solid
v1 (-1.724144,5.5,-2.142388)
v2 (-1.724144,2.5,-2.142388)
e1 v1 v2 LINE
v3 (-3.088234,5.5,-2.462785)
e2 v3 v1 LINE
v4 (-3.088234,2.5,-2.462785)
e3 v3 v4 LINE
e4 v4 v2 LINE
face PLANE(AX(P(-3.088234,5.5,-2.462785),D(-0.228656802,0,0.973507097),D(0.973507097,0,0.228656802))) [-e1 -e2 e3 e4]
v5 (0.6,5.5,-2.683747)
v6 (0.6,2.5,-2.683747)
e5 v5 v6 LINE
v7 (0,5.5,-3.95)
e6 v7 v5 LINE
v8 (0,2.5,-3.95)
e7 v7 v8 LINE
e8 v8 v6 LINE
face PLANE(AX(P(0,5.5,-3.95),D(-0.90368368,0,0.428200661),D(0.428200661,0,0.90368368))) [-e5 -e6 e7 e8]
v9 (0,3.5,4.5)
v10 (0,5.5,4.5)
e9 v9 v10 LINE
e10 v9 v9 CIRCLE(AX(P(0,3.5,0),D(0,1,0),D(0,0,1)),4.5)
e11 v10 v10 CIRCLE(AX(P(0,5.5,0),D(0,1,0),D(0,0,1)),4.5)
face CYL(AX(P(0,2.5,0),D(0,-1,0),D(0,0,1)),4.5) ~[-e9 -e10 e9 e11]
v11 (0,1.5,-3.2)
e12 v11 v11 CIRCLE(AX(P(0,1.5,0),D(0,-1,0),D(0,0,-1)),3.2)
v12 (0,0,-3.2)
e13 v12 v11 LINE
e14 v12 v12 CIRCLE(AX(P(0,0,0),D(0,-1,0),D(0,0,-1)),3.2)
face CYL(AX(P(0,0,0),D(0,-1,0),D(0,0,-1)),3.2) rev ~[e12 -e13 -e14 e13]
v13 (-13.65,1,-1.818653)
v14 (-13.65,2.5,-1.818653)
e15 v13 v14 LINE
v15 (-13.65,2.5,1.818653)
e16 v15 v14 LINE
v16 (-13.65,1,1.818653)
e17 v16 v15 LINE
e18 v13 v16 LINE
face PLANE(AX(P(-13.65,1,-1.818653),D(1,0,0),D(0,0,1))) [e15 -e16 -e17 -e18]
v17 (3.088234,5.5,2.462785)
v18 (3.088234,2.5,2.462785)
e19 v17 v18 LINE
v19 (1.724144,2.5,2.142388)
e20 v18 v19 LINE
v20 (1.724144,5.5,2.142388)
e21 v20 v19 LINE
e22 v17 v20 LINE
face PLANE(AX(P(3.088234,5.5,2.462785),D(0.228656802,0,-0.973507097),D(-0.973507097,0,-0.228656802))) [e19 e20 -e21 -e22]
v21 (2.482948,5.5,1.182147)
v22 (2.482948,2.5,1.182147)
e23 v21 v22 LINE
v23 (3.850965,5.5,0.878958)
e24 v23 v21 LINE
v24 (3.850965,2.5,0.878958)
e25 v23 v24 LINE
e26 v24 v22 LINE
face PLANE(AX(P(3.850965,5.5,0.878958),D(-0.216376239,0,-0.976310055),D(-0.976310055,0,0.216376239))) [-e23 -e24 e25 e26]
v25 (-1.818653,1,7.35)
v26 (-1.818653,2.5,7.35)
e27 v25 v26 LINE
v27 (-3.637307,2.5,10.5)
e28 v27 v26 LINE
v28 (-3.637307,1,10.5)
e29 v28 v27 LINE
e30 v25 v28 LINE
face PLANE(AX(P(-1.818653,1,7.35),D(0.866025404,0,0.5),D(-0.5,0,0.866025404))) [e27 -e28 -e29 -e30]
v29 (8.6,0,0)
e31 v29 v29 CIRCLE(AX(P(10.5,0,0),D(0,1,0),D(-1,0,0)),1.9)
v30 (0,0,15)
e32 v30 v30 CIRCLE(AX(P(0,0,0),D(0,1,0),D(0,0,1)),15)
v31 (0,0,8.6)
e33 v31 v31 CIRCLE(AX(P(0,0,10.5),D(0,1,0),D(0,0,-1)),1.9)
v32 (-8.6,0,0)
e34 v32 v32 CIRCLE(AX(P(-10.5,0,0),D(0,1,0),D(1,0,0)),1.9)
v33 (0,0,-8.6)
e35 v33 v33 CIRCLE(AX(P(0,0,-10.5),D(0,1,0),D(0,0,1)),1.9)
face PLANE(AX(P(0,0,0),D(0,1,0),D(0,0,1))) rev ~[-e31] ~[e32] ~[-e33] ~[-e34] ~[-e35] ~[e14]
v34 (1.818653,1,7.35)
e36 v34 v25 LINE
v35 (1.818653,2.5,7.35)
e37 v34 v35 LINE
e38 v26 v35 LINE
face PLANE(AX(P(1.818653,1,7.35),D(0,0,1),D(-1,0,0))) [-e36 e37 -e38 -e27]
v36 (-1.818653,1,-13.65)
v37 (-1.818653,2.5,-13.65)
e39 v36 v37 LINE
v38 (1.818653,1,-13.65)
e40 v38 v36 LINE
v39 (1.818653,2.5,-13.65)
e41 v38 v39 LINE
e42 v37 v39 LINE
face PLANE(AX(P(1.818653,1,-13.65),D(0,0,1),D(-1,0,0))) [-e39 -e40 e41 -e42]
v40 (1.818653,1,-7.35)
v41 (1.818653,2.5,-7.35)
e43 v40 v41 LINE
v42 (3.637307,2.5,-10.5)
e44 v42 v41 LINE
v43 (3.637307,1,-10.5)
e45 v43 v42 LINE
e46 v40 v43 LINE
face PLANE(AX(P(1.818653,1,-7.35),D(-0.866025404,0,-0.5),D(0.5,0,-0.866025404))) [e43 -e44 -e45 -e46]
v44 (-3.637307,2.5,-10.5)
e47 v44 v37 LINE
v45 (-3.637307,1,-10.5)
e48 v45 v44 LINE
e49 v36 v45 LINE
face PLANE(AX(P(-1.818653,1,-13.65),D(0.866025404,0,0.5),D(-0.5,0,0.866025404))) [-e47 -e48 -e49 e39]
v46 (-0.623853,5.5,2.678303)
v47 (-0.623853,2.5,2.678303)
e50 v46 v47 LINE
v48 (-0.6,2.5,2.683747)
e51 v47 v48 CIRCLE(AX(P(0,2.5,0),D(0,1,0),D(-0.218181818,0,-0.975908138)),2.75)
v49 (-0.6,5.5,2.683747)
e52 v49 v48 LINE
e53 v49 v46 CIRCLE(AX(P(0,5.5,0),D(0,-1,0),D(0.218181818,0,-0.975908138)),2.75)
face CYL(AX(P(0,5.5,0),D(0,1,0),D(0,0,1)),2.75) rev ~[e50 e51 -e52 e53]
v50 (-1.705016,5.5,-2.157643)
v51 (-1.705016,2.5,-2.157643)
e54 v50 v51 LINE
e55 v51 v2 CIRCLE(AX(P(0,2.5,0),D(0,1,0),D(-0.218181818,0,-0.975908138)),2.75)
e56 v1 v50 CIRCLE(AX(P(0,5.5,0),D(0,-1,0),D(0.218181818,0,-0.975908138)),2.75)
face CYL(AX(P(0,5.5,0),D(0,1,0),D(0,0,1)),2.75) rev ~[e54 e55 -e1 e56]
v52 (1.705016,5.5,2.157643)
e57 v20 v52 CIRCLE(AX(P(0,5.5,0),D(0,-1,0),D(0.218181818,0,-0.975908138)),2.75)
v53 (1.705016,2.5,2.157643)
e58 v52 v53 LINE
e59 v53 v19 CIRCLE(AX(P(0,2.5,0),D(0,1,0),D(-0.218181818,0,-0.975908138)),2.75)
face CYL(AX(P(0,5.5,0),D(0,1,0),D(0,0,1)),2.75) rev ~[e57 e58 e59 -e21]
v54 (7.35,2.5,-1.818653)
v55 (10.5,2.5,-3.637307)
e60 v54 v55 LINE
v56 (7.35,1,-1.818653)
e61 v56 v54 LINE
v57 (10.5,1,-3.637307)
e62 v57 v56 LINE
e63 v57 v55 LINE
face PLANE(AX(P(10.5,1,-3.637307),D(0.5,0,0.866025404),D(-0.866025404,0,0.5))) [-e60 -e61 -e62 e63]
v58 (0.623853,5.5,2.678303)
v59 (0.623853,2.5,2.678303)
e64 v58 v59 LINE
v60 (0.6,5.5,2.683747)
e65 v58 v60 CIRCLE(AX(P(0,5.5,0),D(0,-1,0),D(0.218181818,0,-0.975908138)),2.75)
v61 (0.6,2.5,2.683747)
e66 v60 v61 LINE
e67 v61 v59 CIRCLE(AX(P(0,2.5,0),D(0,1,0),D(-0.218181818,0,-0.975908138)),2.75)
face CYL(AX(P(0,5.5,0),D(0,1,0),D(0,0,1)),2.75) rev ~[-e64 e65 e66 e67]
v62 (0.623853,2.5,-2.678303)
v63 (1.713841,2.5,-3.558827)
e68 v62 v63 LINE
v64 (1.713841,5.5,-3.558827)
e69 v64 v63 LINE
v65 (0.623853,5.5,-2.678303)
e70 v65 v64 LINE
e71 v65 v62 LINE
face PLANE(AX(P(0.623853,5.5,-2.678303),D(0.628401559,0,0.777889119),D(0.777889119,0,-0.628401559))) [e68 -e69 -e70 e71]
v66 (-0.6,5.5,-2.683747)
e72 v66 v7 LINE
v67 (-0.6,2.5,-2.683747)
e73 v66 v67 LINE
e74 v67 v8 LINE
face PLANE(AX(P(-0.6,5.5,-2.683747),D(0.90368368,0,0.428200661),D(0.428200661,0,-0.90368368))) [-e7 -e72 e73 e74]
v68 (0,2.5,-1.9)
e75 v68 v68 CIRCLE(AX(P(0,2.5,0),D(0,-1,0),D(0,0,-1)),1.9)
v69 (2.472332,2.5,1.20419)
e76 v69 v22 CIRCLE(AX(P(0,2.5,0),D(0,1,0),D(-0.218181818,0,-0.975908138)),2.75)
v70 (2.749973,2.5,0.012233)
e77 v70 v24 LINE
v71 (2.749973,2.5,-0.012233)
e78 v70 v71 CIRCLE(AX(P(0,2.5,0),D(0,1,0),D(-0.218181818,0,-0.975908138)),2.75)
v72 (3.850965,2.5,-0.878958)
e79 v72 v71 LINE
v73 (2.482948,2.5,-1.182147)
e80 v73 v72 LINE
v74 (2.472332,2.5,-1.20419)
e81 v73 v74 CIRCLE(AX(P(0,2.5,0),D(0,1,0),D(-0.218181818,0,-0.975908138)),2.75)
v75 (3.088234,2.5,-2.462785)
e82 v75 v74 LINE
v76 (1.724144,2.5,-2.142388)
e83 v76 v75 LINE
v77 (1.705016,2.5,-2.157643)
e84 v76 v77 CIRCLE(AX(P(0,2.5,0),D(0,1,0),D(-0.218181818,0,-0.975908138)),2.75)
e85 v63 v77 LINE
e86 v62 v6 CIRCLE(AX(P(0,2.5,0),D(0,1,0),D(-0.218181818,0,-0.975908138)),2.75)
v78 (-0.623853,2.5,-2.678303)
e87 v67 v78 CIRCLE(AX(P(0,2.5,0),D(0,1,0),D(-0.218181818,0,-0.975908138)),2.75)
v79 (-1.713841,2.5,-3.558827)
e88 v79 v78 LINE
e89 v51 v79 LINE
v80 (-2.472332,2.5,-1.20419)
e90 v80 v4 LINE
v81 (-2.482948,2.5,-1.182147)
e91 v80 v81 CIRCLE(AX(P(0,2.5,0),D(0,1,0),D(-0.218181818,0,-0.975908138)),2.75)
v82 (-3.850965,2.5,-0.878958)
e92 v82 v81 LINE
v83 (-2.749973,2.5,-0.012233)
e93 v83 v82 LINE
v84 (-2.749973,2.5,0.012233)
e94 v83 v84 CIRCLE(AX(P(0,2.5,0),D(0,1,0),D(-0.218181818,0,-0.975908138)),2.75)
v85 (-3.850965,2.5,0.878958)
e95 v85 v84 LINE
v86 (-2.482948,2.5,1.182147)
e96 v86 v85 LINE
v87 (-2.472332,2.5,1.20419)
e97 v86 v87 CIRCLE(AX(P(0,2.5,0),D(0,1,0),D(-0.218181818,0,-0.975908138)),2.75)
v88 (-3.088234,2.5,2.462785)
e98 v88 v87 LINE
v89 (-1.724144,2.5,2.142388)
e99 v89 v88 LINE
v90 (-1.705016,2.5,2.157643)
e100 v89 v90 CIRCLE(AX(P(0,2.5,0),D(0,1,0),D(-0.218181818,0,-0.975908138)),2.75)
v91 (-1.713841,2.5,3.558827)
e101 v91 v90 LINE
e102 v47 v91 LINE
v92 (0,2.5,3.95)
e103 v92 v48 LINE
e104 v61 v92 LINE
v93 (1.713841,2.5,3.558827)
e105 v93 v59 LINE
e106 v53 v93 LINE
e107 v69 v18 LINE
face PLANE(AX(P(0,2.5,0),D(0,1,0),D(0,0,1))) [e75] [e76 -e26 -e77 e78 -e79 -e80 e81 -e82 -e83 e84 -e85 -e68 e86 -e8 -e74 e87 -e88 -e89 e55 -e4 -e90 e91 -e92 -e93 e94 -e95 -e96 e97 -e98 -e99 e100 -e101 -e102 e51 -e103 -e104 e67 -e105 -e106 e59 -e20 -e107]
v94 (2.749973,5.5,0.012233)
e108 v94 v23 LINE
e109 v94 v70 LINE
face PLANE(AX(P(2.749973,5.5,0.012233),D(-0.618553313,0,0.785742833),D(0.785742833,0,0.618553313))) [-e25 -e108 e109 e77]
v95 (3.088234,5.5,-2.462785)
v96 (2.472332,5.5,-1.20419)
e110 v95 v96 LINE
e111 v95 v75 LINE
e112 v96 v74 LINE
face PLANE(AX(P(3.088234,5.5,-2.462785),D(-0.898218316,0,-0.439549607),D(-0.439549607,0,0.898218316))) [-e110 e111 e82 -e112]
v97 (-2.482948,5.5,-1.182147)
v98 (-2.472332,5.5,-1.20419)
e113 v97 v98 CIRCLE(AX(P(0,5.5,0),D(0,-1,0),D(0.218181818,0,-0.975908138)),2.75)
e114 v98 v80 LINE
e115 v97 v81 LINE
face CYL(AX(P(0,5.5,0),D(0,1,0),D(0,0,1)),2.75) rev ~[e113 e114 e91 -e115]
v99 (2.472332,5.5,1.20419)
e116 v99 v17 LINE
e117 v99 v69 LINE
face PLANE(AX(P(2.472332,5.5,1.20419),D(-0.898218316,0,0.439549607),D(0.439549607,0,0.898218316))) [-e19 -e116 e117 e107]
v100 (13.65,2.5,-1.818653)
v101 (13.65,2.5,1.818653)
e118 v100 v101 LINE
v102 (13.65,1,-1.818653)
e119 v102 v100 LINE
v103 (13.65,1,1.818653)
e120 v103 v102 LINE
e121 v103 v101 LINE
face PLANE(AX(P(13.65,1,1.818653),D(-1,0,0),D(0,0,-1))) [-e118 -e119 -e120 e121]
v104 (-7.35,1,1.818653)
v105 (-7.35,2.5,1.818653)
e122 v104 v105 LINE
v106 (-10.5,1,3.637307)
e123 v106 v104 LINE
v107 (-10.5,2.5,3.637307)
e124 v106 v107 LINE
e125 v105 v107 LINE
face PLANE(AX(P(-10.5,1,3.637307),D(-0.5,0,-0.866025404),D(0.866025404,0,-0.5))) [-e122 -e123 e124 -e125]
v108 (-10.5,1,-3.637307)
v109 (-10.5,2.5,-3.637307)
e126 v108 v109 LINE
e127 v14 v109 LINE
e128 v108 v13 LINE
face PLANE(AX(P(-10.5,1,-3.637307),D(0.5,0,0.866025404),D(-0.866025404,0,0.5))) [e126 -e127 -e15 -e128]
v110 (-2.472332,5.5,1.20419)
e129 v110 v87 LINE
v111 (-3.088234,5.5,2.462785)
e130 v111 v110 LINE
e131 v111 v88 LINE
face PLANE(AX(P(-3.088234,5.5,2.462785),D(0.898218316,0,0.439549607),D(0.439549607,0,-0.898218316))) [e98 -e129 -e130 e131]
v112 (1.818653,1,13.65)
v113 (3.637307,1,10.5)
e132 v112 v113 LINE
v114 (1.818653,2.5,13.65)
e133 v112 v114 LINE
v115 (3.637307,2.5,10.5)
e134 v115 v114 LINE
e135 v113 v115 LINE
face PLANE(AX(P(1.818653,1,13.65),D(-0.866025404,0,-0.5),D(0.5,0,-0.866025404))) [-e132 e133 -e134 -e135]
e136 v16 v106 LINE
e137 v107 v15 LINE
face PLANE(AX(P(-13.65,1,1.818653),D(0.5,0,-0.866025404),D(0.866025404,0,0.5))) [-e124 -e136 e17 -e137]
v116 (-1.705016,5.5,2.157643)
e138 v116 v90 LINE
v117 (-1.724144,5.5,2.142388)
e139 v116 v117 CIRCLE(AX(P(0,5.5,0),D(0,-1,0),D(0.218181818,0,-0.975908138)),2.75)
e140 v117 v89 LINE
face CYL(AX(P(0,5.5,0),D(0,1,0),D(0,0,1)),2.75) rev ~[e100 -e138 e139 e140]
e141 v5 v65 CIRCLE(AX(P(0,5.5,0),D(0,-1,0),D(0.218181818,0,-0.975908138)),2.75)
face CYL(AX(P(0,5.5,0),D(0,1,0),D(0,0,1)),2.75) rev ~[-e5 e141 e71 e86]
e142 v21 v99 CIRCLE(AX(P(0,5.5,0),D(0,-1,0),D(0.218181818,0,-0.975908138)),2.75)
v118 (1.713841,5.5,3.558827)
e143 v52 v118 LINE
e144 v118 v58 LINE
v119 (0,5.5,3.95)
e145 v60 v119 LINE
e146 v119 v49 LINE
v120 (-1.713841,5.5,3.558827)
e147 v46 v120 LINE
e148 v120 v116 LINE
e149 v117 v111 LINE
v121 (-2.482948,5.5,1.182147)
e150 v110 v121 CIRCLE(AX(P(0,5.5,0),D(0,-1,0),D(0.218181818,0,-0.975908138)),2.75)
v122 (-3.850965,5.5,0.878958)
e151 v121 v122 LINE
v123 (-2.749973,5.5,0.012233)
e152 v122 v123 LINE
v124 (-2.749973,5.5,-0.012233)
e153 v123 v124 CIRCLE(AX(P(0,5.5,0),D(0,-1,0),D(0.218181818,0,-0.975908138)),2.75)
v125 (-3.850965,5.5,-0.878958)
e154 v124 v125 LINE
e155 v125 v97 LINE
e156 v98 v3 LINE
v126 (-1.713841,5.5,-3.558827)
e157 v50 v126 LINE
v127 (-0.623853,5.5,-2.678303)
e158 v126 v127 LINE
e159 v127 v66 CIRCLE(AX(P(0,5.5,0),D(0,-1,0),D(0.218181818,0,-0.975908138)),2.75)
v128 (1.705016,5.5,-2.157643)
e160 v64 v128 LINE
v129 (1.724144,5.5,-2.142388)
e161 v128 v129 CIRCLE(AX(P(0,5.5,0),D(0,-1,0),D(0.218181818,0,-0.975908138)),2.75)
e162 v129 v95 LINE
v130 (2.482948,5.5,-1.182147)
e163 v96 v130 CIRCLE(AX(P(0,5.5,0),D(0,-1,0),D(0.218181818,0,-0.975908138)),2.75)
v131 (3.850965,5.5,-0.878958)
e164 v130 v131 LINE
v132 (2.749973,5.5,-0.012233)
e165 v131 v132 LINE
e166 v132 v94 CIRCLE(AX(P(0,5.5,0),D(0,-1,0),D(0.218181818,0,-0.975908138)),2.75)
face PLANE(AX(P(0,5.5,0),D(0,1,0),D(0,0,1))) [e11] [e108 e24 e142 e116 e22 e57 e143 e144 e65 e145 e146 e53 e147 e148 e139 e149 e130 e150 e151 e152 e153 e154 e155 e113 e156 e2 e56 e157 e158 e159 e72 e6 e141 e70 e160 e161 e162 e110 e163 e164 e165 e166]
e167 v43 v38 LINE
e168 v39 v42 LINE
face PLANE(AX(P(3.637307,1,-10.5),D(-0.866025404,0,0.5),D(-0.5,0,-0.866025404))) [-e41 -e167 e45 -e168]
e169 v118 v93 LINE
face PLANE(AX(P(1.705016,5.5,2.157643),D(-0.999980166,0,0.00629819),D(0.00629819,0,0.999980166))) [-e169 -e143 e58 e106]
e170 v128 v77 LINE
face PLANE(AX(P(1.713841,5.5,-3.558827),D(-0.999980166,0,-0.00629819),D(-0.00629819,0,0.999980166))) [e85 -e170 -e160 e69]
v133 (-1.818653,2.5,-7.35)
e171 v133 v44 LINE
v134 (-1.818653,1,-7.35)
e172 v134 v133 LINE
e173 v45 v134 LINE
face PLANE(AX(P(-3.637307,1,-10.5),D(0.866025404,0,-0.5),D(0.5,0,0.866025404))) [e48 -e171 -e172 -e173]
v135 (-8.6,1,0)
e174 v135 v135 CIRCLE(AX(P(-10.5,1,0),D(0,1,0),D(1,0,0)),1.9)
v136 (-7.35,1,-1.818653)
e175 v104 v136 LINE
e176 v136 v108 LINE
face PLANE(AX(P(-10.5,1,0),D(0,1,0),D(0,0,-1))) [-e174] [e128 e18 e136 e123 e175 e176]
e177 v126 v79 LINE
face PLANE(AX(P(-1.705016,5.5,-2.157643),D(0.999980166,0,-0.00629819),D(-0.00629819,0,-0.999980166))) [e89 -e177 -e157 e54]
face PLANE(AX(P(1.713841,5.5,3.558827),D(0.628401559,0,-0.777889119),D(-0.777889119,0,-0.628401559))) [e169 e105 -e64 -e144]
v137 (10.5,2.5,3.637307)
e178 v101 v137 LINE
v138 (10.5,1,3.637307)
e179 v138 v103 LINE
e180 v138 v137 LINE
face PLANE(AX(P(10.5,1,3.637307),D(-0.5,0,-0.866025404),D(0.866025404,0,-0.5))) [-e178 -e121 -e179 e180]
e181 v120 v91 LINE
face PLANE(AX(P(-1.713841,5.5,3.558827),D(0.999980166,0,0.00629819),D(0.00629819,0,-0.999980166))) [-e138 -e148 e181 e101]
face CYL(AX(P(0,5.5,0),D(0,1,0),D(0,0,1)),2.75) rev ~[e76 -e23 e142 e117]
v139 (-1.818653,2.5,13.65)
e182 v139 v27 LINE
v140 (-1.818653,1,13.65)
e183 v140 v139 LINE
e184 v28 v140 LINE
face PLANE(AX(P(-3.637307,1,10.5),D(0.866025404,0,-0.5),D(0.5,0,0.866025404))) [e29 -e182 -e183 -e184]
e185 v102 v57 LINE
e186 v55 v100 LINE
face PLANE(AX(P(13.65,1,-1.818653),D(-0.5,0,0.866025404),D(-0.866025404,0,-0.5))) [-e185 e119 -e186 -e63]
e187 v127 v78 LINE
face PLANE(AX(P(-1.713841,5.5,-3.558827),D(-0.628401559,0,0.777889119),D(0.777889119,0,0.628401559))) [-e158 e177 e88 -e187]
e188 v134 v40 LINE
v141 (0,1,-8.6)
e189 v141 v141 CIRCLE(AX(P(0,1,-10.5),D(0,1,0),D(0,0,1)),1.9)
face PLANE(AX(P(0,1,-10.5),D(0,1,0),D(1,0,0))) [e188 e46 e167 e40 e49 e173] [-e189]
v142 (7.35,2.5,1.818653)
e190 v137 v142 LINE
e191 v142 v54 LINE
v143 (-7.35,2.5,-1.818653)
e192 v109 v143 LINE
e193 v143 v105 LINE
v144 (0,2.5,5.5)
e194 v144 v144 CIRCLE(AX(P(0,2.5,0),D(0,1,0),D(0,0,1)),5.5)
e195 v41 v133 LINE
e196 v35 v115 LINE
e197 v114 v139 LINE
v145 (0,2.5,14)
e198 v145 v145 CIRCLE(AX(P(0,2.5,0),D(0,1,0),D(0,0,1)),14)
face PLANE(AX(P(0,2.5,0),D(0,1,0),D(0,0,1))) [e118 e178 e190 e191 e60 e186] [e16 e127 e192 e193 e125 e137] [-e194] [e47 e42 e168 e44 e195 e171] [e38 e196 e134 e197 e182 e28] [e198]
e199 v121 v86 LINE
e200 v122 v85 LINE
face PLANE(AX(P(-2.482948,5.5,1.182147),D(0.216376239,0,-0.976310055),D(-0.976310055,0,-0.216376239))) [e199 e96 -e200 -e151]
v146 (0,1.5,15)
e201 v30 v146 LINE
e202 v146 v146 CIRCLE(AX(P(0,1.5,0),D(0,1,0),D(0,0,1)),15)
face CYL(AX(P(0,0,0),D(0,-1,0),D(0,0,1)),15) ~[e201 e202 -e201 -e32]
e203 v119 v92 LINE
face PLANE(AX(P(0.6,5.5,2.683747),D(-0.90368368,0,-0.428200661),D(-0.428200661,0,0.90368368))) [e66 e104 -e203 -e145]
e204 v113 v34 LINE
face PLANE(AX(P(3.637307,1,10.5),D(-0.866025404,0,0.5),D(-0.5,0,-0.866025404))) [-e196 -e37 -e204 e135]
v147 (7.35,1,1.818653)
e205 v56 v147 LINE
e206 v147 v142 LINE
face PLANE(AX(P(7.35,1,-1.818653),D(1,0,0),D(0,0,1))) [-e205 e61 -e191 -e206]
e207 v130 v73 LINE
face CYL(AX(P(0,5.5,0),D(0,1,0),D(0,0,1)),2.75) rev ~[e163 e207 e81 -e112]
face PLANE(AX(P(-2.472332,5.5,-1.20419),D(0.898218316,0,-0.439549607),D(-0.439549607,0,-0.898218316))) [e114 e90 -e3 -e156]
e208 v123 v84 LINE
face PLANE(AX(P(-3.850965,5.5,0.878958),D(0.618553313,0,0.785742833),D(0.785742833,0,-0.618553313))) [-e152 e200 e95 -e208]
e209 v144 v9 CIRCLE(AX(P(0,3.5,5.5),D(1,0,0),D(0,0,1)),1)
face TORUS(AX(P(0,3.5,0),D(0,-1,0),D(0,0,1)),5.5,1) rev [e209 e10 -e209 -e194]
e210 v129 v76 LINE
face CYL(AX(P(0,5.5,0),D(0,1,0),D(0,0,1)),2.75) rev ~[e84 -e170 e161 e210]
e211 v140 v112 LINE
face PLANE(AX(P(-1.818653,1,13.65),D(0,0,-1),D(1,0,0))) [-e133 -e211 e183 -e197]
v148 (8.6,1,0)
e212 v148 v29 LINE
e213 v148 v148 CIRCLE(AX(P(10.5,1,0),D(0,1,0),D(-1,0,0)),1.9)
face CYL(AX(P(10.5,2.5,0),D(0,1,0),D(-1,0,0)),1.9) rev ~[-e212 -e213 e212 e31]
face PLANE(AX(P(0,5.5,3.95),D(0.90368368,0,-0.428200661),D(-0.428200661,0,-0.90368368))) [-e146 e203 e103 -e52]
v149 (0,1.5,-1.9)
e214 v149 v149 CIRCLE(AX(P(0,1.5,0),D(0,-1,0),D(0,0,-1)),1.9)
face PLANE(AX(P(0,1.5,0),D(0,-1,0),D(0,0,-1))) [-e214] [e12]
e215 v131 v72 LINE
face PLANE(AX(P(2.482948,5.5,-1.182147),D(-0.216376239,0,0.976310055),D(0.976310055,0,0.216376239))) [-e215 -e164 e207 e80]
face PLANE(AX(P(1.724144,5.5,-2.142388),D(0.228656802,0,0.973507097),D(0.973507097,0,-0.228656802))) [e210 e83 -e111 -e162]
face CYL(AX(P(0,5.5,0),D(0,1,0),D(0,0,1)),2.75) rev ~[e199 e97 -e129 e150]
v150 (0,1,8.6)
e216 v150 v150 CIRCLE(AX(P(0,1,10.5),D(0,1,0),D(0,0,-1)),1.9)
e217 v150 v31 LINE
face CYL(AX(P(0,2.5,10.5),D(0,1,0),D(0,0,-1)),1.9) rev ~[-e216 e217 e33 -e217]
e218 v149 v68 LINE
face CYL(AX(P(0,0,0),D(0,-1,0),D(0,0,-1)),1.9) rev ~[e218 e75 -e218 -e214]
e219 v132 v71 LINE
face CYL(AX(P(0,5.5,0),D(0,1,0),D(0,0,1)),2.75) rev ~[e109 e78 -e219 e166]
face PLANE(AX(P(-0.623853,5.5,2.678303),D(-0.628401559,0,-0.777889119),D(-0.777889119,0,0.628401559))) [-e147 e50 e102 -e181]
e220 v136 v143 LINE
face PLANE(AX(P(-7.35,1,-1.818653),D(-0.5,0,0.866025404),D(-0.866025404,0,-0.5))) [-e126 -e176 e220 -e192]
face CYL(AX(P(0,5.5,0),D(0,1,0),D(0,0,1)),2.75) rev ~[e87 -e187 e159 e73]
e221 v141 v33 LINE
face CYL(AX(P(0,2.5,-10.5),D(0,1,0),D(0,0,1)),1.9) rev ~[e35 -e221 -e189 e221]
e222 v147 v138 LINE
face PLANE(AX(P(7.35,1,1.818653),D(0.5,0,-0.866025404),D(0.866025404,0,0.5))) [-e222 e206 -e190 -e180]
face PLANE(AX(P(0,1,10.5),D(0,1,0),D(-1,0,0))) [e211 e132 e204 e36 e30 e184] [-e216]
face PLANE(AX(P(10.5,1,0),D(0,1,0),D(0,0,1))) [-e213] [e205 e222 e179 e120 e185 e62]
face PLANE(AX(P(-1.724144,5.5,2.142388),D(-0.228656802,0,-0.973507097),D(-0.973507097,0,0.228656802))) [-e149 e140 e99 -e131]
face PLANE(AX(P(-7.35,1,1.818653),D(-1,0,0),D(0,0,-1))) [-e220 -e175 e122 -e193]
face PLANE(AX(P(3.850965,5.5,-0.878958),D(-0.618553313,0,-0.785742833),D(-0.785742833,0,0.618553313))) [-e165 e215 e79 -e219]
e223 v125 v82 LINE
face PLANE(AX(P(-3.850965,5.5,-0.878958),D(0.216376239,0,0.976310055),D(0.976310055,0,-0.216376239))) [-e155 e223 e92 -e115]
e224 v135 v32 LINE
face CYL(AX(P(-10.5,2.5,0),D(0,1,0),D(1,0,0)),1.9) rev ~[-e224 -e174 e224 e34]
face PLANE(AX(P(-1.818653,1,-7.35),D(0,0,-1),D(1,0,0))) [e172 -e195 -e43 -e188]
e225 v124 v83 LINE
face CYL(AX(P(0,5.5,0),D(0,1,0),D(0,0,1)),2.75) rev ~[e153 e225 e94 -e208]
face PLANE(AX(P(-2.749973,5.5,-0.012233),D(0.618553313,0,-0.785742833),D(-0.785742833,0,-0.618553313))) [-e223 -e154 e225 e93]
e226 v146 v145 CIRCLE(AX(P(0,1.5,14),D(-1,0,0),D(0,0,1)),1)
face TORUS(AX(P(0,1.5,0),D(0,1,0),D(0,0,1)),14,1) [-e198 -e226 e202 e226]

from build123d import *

# Parameters (mm, degrees)
CROQUIS1_R              = 15
SALIENTE_EXTRUIR1_DEPTH = 2.5
CROQUIS2_R              = 4.5
SALIENTE_EXTRUIR2_DEPTH = 3
CROQUIS3_R              = 2.75
CORTAR_EXTRUIR1_DEPTH   = 3
CORTAR_EXTRUIR2_REACH   = 23.915
CROQUIS4_R              = 1.9
CORTAR_EXTRUIR4_REACH   = 23.424
CROQUIS6_R              = 1.9
CORTAR_EXTRUIR3_START   = -1.5
CORTAR_EXTRUIR3_DEPTH   = 2.5
MATRIZC1_COUNT          = 4
CORTAR_EXTRUIR5_DEPTH   = 3
MATRIZC2_COUNT          = 14
REDONDEO1_R             = 1
CROQUIS9_R              = 3.2
CORTAR_EXTRUIR6_DEPTH   = 1.5


with BuildPart() as part:
    # Croquis1 → Saliente-Extruir1 (new body)
    with BuildSketch(Plane(origin=(0, 0, 0), x_dir=(1, 0, 0), z_dir=(0, 1, 0))):
        with Locations(Location((0, 0, 0), (0, 0, 270))):
            Circle(CROQUIS1_R)
    extrude(amount=SALIENTE_EXTRUIR1_DEPTH)

    # Croquis2 → Saliente-Extruir2 (add)
    with BuildSketch(Plane(origin=(0, 2.5, 0), x_dir=(1, 0, 0), z_dir=(0, 1, 0))):
        with Locations(Location((0, 0, 0), (0, 0, 270))):
            Circle(CROQUIS2_R)
    extrude(amount=SALIENTE_EXTRUIR2_DEPTH)

    # Croquis3 → Cortar-Extruir1 (cut)
    with BuildSketch(Plane(origin=(0, 5.5, 0), x_dir=(1, 0, 0), z_dir=(0, 1, 0))):
        with Locations(Location((0, 0, 0), (0, 0, 270))):
            Circle(CROQUIS3_R)
    extrude(amount=-CORTAR_EXTRUIR1_DEPTH, mode=Mode.SUBTRACT)

    # Croquis4 → Cortar-Extruir2 (cut, up to next)
    with BuildSketch(Plane.XZ, mode=Mode.PRIVATE) as cortar_extruir2_sk1:
        with Locations(Location((0, 0, 0), (0, 0, 270))):
            Circle(CROQUIS4_R)
    cortar_extruir2_tool1 = extrude(cortar_extruir2_sk1.sketch, amount=-CORTAR_EXTRUIR2_REACH, mode=Mode.PRIVATE) & part.part
    add(cortar_extruir2_tool1.solids().sort_by_distance((0, 0, 0))[0], mode=Mode.SUBTRACT)

    # Croquis6 → Cortar-Extruir4 (cut, up to next)
    with BuildSketch(Plane(origin=(0, 2.5, 0), x_dir=(1, 0, 0), z_dir=(0, 1, 0)), mode=Mode.PRIVATE) as cortar_extruir4_sk1:
        with Locations(Location((0, 10.5, 0), (0, 0, 270))):
            Circle(CROQUIS6_R)
    cortar_extruir4_tool1 = extrude(cortar_extruir4_sk1.sketch, amount=-CORTAR_EXTRUIR4_REACH, mode=Mode.PRIVATE) & part.part
    cortar_extruir4 = cortar_extruir4_tool1.solids().sort_by_distance((0, 2.5, -10.5))[0]
    add(cortar_extruir4, mode=Mode.SUBTRACT)

    # Croquis5 → Cortar-Extruir3 (cut)
    with BuildSketch(Plane(origin=(0, 2.5, 0), x_dir=(1, 0, 0), z_dir=(0, 1, 0)).offset(CORTAR_EXTRUIR3_START)):
        Polygon((-1.818653348, 13.65), (-3.637306696, 10.5), (-1.818653348, 7.35), (1.818653348, 7.35), (3.637306696, 10.5), (1.818653348, 13.65), align=None)
    cortar_extruir3 = extrude(amount=CORTAR_EXTRUIR3_DEPTH, mode=Mode.SUBTRACT)

    # MatrizC1: Cortar-Extruir4, Cortar-Extruir3 ×4 about axis
    matrizc1_axis = Axis((0, 0, 0), (0, 1, 0))
    add([cortar_extruir4.rotate(matrizc1_axis, i * 360 / MATRIZC1_COUNT) for i in range(1, MATRIZC1_COUNT)], mode=Mode.SUBTRACT)
    add([cortar_extruir3.rotate(matrizc1_axis, i * 360 / MATRIZC1_COUNT) for i in range(1, MATRIZC1_COUNT)], mode=Mode.SUBTRACT)

    # Croquis7 → Cortar-Extruir5 (cut)
    with BuildSketch(Plane(origin=(0, 5.5, 0), x_dir=(1, 0, 0), z_dir=(0, 1, 0))):
        with BuildLine():
            Line((0, 3.95), (0.6, 2.68374738))
            ThreePointArc((0.6, 2.68374738), (0, 2.75), (-0.6, 2.68374738))
            Line((-0.6, 2.68374738), (0, 3.95))
        make_face()
    cortar_extruir5 = extrude(amount=-CORTAR_EXTRUIR5_DEPTH, mode=Mode.SUBTRACT)

    # MatrizC2: Cortar-Extruir5 ×14 about axis
    matrizc2_axis = Axis((0, 0, 0), (0, 1, 0))
    for i in range(1, MATRIZC2_COUNT):
        add(cortar_extruir5.rotate(matrizc2_axis, i * 360 / MATRIZC2_COUNT), mode=Mode.SUBTRACT)

    # Redondeo1
    redondeo1_edges = [part.edges().sort_by_distance(p)[0] for p in [
        (0, 2.5, -15),
        (0, 2.5, -4.5),
    ]]
    fillet(redondeo1_edges, radius=REDONDEO1_R)

    # Croquis9 → Cortar-Extruir6 (cut)
    with BuildSketch(Plane.XZ):
        with Locations(Location((0, 0, 0), (0, 0, 270))):
            Circle(CROQUIS9_R)
    extrude(amount=-CORTAR_EXTRUIR6_DEPTH, mode=Mode.SUBTRACT)


solid = part.part
